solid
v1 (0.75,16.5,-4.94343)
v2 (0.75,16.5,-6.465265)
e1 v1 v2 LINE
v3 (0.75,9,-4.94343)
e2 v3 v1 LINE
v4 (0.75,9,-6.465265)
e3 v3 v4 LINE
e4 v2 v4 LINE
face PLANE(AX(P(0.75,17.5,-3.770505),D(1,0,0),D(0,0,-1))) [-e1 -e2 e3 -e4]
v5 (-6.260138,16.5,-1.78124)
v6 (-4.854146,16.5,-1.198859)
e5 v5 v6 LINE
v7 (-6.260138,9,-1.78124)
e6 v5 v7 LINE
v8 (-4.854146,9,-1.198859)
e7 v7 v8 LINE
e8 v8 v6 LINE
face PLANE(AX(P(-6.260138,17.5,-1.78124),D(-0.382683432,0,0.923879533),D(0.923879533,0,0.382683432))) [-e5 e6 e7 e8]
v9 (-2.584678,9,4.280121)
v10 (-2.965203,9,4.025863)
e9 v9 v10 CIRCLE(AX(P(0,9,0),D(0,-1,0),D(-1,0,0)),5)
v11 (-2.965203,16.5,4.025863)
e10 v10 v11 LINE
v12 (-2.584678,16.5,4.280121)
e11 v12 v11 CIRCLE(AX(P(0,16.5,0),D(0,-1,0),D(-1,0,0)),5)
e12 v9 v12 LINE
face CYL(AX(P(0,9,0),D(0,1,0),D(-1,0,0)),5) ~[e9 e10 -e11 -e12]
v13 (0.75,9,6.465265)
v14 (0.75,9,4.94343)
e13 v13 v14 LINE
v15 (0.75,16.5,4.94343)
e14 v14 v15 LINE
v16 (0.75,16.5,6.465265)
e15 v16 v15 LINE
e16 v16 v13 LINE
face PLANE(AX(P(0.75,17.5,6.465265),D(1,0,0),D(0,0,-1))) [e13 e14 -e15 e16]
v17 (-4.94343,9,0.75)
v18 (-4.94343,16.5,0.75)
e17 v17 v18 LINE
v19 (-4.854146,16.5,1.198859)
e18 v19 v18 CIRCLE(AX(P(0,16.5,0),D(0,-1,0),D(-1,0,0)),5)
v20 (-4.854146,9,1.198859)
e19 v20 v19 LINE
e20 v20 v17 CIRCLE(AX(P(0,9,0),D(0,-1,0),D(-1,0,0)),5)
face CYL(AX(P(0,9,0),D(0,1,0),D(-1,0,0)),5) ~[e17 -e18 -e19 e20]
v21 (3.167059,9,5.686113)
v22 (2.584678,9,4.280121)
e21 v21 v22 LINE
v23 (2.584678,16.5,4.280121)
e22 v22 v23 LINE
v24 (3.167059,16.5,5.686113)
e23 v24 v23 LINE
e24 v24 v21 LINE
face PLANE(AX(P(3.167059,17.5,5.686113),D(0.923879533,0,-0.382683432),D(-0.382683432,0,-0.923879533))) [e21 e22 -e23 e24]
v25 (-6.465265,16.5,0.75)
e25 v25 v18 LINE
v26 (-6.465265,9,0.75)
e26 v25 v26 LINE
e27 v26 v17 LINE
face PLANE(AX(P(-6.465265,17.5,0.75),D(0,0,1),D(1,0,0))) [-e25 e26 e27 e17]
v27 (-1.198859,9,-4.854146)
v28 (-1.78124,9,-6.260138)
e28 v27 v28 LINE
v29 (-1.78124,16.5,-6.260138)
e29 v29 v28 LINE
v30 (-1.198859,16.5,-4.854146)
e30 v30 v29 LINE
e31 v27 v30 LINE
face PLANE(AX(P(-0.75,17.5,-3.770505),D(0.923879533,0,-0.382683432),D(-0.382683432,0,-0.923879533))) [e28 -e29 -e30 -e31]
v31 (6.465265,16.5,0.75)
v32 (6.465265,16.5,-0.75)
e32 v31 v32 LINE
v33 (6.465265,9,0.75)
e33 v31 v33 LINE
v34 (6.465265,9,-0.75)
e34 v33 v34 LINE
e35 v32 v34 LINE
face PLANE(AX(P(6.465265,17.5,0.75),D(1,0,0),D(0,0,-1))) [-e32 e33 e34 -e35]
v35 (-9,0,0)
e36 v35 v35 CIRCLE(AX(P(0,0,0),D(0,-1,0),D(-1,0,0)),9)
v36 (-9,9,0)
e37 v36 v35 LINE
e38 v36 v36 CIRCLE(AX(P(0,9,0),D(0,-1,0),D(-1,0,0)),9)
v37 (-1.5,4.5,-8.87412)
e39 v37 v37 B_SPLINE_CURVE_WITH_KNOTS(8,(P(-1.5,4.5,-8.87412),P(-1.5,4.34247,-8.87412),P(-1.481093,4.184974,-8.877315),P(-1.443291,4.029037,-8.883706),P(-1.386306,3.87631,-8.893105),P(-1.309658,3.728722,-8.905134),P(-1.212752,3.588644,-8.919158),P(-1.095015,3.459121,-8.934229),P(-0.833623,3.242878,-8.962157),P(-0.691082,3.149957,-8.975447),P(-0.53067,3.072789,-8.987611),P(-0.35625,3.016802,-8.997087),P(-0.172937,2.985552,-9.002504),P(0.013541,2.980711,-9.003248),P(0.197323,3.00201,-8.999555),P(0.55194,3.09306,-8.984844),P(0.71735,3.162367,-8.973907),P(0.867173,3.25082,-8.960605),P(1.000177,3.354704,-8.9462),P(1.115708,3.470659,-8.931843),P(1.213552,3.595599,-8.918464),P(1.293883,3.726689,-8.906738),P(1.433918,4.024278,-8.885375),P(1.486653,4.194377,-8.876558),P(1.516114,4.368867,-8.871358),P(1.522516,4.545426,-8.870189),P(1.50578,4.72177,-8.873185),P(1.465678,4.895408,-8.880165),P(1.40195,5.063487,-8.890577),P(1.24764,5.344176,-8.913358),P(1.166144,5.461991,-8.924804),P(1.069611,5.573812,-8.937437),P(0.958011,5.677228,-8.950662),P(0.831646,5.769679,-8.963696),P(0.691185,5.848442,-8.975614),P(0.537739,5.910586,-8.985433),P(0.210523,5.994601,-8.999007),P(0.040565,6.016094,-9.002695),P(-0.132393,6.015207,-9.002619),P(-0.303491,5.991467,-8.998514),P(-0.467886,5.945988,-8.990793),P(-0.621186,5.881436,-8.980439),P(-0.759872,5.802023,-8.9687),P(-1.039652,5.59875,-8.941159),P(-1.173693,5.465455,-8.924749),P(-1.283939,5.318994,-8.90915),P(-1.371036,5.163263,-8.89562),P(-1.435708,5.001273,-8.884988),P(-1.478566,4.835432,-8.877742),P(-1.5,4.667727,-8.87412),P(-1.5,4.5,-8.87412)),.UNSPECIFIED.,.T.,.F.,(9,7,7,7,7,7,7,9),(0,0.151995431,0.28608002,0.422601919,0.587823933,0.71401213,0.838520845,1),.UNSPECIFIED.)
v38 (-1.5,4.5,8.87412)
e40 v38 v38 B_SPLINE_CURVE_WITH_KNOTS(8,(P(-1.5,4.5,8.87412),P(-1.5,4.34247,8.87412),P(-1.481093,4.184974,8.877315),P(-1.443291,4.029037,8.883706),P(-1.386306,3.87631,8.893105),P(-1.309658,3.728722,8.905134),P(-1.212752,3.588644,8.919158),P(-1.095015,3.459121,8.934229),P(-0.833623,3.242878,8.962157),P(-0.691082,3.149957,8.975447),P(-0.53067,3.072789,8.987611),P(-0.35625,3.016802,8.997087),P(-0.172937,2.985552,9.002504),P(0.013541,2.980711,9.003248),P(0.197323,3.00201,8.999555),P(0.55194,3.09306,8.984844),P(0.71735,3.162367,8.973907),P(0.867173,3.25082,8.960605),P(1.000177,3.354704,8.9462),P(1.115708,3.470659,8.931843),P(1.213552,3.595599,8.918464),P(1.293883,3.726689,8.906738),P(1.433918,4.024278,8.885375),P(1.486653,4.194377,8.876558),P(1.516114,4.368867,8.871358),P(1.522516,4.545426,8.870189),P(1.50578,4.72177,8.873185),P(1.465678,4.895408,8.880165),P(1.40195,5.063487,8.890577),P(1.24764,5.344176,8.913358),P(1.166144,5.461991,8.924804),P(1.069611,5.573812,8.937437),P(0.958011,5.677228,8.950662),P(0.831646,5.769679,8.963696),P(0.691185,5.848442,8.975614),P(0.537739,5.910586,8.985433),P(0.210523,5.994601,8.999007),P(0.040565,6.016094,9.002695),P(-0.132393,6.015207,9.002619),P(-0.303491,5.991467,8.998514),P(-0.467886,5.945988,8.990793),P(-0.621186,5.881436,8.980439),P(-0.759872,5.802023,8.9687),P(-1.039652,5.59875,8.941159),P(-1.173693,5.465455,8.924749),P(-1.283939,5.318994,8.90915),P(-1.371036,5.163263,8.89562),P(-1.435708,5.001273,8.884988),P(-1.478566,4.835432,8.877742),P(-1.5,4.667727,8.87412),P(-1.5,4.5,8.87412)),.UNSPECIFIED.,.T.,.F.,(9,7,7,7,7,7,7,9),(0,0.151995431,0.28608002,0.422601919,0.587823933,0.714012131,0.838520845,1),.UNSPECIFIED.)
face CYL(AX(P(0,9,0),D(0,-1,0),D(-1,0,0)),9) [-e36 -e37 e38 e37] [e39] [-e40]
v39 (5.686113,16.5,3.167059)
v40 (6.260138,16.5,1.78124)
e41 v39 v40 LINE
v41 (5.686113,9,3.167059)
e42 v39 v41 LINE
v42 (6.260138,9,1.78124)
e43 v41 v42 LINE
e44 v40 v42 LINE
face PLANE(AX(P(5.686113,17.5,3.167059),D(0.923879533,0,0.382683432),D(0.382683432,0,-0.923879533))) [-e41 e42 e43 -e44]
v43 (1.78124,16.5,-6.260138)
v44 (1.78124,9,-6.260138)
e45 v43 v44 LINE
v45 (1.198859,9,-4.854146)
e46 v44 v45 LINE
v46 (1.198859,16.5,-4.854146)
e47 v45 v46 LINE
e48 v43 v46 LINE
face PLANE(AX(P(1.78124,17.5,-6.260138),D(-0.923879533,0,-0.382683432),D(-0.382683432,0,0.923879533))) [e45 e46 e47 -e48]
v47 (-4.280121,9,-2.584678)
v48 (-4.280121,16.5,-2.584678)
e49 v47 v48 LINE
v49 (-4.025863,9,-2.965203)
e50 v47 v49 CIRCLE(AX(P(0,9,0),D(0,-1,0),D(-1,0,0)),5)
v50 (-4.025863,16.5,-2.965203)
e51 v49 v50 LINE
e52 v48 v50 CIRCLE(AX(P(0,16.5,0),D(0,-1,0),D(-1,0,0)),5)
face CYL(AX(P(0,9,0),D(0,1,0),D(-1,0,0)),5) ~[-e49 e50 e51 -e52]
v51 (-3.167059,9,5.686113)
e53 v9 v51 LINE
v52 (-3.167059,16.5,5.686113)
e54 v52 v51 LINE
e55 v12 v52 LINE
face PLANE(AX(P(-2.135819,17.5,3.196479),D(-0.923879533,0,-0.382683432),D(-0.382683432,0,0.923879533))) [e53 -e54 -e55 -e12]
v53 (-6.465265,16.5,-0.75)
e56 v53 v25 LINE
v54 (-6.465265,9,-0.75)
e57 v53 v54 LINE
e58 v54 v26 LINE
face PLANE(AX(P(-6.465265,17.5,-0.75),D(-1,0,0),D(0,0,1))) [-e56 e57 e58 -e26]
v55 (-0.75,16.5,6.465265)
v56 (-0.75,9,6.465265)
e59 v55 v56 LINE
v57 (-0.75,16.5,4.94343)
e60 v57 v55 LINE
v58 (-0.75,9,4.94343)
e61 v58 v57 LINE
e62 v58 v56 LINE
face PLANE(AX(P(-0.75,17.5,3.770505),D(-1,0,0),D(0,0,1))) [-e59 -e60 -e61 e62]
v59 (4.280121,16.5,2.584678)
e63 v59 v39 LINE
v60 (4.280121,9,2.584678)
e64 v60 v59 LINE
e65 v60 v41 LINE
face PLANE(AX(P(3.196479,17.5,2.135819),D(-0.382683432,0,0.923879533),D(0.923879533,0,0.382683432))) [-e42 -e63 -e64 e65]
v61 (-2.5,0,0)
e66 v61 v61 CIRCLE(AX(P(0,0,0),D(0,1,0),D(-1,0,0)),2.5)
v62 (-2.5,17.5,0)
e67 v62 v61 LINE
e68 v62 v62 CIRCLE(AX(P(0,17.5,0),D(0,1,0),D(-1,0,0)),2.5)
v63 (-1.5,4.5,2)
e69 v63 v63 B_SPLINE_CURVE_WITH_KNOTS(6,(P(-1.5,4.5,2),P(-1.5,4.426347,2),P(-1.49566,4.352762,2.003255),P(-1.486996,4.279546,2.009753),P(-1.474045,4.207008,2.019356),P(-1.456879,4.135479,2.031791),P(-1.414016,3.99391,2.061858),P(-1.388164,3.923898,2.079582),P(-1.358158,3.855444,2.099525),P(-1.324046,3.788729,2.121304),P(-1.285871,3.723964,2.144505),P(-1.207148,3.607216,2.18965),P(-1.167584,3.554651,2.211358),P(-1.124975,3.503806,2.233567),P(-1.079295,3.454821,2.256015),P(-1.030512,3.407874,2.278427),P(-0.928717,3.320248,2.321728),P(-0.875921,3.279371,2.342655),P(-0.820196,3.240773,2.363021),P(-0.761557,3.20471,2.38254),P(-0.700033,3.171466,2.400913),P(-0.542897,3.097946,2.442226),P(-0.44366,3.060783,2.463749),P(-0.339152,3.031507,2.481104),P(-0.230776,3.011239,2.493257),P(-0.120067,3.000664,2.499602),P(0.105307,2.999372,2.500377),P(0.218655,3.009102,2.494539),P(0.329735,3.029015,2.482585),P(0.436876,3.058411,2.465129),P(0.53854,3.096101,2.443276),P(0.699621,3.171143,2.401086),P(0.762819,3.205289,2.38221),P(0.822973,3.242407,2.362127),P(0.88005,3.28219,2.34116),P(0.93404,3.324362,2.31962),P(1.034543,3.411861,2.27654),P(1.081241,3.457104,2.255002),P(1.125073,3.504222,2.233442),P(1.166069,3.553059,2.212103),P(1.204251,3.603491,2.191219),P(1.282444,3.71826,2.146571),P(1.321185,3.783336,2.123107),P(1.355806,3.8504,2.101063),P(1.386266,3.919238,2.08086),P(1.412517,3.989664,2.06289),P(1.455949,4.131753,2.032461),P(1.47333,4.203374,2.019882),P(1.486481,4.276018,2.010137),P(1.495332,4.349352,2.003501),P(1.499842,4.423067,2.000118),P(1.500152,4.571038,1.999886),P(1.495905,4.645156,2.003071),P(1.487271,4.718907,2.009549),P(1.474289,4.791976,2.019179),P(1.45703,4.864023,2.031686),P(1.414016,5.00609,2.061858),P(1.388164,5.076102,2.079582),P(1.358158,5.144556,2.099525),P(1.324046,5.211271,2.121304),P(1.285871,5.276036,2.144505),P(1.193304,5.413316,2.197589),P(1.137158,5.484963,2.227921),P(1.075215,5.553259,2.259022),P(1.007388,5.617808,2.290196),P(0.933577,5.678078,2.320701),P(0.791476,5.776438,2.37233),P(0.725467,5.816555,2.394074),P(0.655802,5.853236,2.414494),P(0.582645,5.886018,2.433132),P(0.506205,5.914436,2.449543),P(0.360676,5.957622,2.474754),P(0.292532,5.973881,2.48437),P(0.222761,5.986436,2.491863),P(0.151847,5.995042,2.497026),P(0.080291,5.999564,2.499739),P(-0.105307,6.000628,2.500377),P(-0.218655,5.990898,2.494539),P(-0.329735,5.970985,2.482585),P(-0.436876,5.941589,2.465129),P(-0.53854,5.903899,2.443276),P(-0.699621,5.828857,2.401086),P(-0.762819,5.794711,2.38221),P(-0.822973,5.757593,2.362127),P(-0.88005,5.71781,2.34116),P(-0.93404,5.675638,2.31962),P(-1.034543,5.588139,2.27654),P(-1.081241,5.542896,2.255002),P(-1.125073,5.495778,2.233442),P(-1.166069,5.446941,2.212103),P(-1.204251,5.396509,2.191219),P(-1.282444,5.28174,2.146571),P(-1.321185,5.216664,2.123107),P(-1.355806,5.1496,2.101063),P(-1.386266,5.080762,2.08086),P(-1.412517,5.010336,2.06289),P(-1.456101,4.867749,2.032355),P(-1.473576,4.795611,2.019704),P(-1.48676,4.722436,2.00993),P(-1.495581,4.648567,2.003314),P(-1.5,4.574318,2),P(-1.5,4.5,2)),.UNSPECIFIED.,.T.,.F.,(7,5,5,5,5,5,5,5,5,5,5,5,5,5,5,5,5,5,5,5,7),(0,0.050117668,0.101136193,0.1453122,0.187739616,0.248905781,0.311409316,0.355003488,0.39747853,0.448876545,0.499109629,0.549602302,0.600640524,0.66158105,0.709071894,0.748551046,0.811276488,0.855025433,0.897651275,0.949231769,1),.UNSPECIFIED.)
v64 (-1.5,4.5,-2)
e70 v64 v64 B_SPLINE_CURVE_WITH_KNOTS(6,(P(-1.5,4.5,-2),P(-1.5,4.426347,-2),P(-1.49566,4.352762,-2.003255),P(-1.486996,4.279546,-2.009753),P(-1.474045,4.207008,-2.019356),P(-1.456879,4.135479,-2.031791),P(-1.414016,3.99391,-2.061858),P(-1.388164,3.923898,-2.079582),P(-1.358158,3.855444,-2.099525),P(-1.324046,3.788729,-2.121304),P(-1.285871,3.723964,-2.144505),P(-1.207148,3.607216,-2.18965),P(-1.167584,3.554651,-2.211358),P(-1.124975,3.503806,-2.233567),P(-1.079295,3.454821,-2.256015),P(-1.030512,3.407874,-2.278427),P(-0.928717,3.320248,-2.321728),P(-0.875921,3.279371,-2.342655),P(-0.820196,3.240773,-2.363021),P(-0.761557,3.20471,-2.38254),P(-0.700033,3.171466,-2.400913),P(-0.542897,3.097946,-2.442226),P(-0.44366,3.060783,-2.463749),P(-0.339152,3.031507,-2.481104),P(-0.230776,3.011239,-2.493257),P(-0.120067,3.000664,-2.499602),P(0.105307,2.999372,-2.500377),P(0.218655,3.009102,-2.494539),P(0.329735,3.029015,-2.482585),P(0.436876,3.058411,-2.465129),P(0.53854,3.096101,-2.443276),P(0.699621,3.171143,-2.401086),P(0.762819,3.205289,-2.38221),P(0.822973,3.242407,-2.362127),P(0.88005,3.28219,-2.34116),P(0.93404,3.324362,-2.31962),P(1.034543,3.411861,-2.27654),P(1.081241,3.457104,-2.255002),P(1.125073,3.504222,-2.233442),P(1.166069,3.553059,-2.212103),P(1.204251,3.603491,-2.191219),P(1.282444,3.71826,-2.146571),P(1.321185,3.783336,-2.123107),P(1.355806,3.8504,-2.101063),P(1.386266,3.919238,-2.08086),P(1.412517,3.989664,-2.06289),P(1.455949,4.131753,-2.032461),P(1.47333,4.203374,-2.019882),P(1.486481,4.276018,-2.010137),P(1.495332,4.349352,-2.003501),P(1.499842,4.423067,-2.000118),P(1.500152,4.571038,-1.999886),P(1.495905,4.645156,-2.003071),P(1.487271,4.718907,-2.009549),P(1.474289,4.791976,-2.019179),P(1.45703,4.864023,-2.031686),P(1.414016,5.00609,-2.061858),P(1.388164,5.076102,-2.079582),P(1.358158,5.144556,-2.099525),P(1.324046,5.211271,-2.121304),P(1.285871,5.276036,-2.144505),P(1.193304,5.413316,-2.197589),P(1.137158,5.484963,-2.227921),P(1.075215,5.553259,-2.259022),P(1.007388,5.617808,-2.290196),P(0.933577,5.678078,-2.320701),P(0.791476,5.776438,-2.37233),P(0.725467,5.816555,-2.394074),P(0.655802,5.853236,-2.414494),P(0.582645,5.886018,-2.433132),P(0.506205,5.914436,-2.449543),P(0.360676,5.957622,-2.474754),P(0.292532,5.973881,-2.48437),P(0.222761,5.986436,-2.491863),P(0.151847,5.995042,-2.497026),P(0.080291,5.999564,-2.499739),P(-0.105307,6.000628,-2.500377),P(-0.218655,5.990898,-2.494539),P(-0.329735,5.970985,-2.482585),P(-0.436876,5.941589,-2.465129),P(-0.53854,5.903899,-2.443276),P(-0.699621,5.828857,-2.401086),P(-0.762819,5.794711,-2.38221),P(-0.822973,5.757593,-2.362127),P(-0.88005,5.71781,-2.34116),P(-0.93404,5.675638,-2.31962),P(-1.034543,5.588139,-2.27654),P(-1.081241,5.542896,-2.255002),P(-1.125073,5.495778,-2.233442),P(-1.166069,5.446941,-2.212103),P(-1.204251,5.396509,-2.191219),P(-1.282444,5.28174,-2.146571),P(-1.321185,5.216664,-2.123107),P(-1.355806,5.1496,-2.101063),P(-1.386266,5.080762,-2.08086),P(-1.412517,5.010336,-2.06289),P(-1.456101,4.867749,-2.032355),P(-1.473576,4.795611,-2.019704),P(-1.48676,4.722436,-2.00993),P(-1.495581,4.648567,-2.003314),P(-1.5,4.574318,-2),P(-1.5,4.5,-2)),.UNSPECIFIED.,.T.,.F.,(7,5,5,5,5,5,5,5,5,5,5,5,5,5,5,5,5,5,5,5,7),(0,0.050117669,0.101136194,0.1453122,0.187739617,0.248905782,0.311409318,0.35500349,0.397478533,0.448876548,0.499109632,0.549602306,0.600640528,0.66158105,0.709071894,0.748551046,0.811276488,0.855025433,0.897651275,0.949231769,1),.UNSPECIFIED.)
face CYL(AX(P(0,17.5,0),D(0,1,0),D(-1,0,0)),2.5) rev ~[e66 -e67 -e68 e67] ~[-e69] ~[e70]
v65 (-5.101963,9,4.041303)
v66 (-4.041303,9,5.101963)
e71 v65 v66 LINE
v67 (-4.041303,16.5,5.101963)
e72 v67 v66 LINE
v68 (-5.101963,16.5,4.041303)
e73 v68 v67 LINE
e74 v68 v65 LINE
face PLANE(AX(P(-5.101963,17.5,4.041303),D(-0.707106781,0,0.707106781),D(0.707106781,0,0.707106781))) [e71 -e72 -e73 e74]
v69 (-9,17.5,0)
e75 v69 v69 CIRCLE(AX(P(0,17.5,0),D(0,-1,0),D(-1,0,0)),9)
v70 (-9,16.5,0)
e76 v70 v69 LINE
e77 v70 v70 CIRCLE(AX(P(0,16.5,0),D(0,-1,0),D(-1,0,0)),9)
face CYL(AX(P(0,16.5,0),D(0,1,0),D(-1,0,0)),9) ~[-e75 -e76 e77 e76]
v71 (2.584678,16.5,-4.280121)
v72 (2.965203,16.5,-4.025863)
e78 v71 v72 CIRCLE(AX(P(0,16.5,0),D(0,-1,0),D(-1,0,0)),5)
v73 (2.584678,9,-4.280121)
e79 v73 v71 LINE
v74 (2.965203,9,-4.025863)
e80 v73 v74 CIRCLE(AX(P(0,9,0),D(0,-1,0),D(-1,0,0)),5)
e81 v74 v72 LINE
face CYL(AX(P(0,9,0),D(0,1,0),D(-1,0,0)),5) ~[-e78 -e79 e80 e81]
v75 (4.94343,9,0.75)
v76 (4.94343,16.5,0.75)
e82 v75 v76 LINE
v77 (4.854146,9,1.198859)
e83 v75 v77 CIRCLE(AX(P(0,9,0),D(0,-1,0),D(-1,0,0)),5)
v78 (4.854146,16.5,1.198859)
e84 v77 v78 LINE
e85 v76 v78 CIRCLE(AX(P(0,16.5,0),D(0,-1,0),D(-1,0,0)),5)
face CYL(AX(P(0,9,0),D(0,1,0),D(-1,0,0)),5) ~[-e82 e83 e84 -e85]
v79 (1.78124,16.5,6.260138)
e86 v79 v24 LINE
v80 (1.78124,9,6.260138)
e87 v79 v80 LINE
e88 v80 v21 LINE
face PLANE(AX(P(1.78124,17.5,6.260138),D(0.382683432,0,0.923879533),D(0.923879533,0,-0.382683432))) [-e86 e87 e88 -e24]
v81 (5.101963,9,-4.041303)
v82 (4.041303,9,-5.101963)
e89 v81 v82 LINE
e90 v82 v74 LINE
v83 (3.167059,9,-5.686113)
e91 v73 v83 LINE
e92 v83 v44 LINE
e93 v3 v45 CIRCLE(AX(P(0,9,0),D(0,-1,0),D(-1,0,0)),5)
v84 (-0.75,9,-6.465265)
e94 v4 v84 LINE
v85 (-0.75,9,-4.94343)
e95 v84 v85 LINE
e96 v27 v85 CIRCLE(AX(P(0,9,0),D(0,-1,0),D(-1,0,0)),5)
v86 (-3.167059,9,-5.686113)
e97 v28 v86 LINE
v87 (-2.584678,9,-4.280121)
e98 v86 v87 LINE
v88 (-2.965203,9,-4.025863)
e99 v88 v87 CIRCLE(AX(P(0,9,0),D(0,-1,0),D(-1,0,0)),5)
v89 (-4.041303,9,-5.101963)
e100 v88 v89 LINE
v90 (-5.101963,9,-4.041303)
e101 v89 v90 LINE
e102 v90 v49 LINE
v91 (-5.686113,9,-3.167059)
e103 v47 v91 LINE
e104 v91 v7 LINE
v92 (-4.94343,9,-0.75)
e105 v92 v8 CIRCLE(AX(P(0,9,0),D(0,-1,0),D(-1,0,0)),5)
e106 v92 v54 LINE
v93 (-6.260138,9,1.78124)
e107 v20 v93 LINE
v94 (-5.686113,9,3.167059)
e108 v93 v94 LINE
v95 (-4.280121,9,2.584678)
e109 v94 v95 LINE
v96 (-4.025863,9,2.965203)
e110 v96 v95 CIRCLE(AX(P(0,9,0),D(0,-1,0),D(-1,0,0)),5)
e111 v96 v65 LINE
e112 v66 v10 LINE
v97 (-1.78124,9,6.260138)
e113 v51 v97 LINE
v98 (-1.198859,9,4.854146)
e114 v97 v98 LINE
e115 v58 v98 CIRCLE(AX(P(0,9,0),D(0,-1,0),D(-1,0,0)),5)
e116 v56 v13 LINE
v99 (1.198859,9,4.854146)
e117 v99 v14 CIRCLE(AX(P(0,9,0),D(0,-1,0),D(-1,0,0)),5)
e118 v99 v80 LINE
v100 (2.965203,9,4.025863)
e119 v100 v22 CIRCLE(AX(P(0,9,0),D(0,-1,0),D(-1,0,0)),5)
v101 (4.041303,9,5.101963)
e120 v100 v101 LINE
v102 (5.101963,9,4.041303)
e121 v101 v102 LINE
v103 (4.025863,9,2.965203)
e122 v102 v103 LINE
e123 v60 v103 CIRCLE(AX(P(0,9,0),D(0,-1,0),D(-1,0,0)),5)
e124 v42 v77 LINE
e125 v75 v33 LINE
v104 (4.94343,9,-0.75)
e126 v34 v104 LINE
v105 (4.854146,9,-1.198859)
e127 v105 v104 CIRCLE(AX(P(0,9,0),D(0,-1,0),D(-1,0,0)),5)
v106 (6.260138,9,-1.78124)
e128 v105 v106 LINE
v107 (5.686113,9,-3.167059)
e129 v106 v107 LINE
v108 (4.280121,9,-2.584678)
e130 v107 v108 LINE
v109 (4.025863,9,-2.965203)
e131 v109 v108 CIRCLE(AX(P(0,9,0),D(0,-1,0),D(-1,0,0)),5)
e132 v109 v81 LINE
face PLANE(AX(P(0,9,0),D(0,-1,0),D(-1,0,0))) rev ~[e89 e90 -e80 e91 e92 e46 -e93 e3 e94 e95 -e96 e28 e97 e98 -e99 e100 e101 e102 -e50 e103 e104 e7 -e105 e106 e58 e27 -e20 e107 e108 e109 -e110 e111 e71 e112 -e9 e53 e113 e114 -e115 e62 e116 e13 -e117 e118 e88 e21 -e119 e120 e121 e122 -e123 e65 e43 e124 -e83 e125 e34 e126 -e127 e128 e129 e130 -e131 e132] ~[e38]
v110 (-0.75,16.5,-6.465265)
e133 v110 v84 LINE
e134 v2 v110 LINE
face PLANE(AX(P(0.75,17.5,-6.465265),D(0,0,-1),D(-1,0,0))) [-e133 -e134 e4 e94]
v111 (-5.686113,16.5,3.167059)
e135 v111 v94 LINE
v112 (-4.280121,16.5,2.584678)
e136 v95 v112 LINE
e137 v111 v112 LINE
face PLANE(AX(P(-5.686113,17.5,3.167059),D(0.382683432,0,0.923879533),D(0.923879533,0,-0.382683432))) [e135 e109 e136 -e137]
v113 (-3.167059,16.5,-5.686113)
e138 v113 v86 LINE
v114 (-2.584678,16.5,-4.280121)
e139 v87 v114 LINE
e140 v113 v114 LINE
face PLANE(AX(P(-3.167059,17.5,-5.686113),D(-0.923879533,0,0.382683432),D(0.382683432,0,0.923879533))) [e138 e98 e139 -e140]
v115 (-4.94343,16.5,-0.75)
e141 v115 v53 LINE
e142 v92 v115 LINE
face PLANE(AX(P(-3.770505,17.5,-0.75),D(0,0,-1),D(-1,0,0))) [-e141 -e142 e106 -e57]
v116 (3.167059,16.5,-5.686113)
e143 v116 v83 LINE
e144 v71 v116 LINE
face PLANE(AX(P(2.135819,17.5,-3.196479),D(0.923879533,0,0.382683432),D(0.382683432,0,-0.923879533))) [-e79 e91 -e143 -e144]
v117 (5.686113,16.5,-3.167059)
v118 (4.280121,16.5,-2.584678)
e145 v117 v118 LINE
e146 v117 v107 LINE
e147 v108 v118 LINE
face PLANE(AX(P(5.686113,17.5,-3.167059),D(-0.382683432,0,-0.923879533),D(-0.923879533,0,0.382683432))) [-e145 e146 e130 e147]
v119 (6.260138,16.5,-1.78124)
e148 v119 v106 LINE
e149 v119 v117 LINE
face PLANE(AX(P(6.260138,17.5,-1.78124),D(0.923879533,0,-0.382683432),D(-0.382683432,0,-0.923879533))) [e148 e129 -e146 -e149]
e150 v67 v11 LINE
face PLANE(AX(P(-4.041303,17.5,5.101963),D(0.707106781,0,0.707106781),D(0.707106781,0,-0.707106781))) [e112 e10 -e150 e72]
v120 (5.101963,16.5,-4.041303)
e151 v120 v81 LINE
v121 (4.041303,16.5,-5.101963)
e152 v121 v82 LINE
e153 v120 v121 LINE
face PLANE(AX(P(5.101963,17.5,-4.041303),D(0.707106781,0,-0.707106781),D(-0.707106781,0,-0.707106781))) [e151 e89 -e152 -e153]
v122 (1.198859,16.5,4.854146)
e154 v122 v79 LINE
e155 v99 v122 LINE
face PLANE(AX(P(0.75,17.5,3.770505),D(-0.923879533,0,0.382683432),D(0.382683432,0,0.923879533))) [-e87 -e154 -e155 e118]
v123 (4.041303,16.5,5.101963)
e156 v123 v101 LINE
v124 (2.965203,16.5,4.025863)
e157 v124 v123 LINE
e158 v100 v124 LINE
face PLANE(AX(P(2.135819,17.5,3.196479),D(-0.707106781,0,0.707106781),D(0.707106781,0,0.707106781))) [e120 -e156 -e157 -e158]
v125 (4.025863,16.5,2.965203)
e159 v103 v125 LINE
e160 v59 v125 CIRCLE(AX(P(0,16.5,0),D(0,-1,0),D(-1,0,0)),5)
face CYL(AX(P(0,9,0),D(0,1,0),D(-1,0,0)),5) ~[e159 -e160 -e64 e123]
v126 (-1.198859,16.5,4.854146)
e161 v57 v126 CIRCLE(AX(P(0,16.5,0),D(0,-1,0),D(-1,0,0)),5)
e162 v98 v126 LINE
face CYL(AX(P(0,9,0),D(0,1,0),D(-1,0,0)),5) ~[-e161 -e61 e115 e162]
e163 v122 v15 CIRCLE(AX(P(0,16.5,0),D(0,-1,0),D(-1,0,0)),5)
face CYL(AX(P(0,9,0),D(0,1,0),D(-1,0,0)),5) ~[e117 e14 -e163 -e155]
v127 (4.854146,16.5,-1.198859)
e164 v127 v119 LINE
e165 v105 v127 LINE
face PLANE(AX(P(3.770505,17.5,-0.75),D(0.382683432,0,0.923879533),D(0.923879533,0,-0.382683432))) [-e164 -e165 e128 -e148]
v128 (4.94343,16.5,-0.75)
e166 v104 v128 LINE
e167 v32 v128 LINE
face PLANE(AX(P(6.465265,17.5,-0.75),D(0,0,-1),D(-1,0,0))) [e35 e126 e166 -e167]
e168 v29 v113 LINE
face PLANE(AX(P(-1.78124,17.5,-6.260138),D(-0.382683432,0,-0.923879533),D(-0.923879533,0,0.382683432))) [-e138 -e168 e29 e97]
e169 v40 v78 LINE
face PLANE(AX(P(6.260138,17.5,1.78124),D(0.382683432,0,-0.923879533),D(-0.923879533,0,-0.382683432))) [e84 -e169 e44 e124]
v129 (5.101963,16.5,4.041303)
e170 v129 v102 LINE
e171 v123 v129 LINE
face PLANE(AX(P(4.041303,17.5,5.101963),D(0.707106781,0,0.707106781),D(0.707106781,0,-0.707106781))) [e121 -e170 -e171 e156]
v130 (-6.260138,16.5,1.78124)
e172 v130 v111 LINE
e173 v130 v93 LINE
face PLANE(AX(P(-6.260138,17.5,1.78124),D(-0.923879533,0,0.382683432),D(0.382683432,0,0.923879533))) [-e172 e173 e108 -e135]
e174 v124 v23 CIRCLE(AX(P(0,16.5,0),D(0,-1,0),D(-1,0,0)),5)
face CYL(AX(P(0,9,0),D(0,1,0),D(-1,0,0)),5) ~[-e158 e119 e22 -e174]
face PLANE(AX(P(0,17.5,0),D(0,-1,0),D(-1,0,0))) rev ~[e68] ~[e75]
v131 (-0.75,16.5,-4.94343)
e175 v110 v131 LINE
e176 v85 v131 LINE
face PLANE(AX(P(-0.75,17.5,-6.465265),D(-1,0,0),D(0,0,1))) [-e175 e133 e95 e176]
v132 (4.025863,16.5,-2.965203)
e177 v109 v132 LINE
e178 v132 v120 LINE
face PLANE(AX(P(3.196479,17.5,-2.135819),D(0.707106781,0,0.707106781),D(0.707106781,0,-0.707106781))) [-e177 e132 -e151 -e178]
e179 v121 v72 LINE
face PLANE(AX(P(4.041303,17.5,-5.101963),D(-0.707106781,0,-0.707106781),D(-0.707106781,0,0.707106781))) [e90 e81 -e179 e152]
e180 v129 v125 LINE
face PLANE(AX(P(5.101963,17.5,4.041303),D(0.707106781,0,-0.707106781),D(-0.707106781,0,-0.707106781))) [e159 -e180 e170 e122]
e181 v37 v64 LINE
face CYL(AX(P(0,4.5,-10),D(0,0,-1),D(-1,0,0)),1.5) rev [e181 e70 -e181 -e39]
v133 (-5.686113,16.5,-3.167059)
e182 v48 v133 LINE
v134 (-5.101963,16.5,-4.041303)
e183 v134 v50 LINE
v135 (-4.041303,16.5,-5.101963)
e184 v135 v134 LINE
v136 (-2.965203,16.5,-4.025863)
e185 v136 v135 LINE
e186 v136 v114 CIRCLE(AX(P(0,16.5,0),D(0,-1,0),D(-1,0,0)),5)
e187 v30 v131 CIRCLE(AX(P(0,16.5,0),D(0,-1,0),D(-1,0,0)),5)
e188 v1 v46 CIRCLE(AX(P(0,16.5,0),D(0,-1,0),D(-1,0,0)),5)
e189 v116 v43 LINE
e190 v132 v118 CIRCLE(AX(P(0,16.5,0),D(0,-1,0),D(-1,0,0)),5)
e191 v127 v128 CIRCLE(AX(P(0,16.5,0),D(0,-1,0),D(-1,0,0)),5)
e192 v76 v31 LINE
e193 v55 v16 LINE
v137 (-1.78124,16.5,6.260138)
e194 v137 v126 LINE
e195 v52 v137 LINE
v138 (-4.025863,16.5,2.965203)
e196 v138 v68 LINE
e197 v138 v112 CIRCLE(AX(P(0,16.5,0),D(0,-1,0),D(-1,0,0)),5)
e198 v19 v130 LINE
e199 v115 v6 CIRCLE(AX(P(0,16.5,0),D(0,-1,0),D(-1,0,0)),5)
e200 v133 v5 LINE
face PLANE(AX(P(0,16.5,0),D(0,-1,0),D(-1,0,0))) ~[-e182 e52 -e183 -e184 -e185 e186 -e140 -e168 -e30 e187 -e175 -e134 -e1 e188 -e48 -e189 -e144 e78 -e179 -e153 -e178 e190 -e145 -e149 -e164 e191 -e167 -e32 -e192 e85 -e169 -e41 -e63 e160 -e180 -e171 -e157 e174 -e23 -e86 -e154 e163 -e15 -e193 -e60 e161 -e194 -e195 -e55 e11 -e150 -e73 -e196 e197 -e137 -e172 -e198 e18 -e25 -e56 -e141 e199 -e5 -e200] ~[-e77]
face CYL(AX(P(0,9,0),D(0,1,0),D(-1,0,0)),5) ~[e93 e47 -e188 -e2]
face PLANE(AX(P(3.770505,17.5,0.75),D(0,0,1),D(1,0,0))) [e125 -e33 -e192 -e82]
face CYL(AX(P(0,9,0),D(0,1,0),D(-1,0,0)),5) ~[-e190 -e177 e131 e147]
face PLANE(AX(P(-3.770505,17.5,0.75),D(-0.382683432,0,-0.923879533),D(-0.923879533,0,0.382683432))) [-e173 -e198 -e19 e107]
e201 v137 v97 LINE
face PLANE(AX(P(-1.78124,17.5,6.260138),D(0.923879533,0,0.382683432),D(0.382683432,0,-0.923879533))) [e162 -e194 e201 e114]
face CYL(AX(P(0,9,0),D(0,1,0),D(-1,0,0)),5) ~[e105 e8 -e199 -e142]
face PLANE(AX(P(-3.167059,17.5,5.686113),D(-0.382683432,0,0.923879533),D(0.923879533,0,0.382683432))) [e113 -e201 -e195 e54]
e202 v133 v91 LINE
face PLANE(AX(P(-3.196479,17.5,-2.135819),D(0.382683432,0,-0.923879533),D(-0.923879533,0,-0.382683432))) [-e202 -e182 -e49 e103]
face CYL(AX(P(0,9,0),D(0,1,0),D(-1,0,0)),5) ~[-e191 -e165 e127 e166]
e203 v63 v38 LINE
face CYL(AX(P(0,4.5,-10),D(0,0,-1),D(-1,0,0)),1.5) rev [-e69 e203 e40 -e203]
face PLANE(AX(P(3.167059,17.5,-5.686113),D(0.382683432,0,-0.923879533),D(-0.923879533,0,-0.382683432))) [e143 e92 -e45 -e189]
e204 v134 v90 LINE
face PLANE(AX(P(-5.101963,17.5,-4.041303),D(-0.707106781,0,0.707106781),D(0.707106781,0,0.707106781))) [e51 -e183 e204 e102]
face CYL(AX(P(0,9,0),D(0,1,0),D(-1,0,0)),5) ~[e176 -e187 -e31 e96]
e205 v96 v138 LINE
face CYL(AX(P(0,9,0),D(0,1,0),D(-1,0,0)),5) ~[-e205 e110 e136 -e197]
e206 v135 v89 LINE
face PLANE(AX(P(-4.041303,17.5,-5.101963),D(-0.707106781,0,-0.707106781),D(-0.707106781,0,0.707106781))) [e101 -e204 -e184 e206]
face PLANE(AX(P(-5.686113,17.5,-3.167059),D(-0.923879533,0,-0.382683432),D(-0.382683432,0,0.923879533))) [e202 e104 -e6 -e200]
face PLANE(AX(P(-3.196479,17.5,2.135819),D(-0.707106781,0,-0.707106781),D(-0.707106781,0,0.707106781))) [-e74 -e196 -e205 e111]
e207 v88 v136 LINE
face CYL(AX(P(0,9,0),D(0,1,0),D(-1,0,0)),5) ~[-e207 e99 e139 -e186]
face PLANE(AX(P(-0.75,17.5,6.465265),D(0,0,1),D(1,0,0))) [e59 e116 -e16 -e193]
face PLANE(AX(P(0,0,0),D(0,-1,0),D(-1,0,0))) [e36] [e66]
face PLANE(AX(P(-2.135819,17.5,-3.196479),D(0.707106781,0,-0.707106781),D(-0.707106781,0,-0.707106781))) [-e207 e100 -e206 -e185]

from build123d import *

# Parameters (mm, degrees)
ESBO_O2_R                  = 2.5
CORTE_EXTRUS_O1_DEPTH      = 20
RESSALTO_EXTRUS_O1_DEPTH   = 8.5
CORTE_EXTRUS_O2_DEPTH      = 10
CORTE_EXTRUS_O2_DEPTH_BACK = 10
ESBO_O5_R                  = 1.5


with BuildPart() as part:
    # Esboço1 → Revolução1 (revolve)
    with BuildSketch(Plane.XY):
        Polygon((0, 17.5), (0, 0), (-5, 0), (-9, 0), (-9, 8), (-9, 9), (-5, 9), (-5, 16.5), (-9, 16.5), (-9, 17.5), align=None)
    revolve(axis=Axis((0, 17.5, 0), (0, -1, 0)))

    # Esboço2 → Corte-extrusão1 (cut)
    with BuildSketch(Plane(origin=(0, 17.5, 0), x_dir=(1, 0, 0), z_dir=(0, 1, 0))):
        with Locations(Location((0, 0, 0), (0, 0, 180))):
            Circle(ESBO_O2_R)
    extrude(amount=-CORTE_EXTRUS_O1_DEPTH, mode=Mode.SUBTRACT)

    # Esboço4 → Ressalto-extrusão1 (add)
    with BuildSketch(Plane(origin=(0, 17.5, 0), x_dir=(1, 0, 0), z_dir=(0, 1, 0))):
        Polygon((0.75, 2.711240108), (0.539299188, 2.711240108), (1.535794152, 2.298478379), (1.38680618, 2.447466352), (2.135819299, 3.196479471), (3.167059402, 5.686113314), (1.781240103, 6.260138462), (0.75, 3.770504619), align=None)
        Polygon((1.73045632, 2.217846669), (1.535794152, 2.298478379), (2.298478379, 1.535794152), (2.217846669, 1.73045632), (3.196479471, 2.135819299), (5.101962719, 4.041302547), (4.041302547, 5.101962719), (2.135819299, 3.196479471), align=None)
        Polygon((2.447466352, 1.38680618), (2.298478379, 1.535794152), (2.711240108, 0.539299188), (2.711240108, 0.75), (3.770504619, 0.75), (6.260138462, 1.781240103), (5.686113314, 3.167059402), (3.196479471, 2.135819299), align=None)
        Polygon((0.539299188, 2.711240108), (0.344637021, 2.791871818), (0.75, 3.770504619), (0.75, 6.465264872), (-0.75, 6.465264872), (-0.75, 3.770504619), (-0.344637021, 2.791871818), (-0.539299188, 2.711240108), align=None)
        Polygon((-1.535794152, 2.298478379), (-0.539299188, 2.711240108), (-0.75, 2.711240108), (-0.75, 3.770504619), (-1.781240103, 6.260138462), (-3.167059402, 5.686113314), (-2.135819299, 3.196479471), (-1.38680618, 2.447466352), align=None)
        Polygon((-2.298478379, 1.535794152), (-1.535794152, 2.298478379), (-1.73045632, 2.217846669), (-2.135819299, 3.196479471), (-4.041302547, 5.101962719), (-5.101962719, 4.041302547), (-3.196479471, 2.135819299), (-2.217846669, 1.73045632), align=None)
        Polygon((-2.711240108, 0.539299188), (-2.298478379, 1.535794152), (-2.447466352, 1.38680618), (-3.196479471, 2.135819299), (-5.686113314, 3.167059402), (-6.260138462, 1.781240103), (-3.770504619, 0.75), (-2.711240108, 0.75), align=None)
        Polygon((-2.711240108, -0.539299188), (-2.711240108, 0.539299188), (-2.791871818, 0.344637021), (-3.770504619, 0.75), (-6.465264872, 0.75), (-6.465264872, -0.75), (-3.770504619, -0.75), (-2.791871818, -0.344637021), align=None)
        Polygon((-2.298478379, -1.535794152), (-2.711240108, -0.539299188), (-2.711240108, -0.75), (-3.770504619, -0.75), (-6.260138462, -1.781240103), (-5.686113314, -3.167059402), (-3.196479471, -2.135819299), (-2.447466352, -1.38680618), align=None)
        Polygon((-1.535794152, -2.298478379), (-2.298478379, -1.535794152), (-2.217846669, -1.73045632), (-3.196479471, -2.135819299), (-5.101962719, -4.041302547), (-4.041302547, -5.101962719), (-2.135819299, -3.196479471), (-1.73045632, -2.217846669), align=None)
        Polygon((-0.539299188, -2.711240108), (-1.535794152, -2.298478379), (-1.38680618, -2.447466352), (-2.135819299, -3.196479471), (-3.167059402, -5.686113314), (-1.781240103, -6.260138462), (-0.75, -3.770504619), (-0.75, -2.711240108), align=None)
        Polygon((0.344637021, -2.791871818), (0.539299188, -2.711240108), (-0.539299188, -2.711240108), (-0.344637021, -2.791871818), (-0.75, -3.770504619), (-0.75, -6.465264872), (0.75, -6.465264872), (0.75, -3.770504619), align=None)
        Polygon((1.38680618, -2.447466352), (1.535794152, -2.298478379), (0.539299188, -2.711240108), (0.75, -2.711240108), (0.75, -3.770504619), (1.781240103, -6.260138462), (3.167059402, -5.686113314), (2.135819299, -3.196479471), align=None)
        Polygon((2.217846669, -1.73045632), (2.298478379, -1.535794152), (1.535794152, -2.298478379), (1.73045632, -2.217846669), (2.135819299, -3.196479471), (4.041302547, -5.101962719), (5.101962719, -4.041302547), (3.196479471, -2.135819299), align=None)
        Polygon((2.711240108, -0.75), (2.711240108, -0.539299188), (2.298478379, -1.535794152), (2.447466352, -1.38680618), (3.196479471, -2.135819299), (5.686113314, -3.167059402), (6.260138462, -1.781240103), (3.770504619, -0.75), align=None)
        Polygon((2.791871818, 0.344637021), (2.711240108, 0.539299188), (2.711240108, -0.539299188), (2.791871818, -0.344637021), (3.770504619, -0.75), (6.465264872, -0.75), (6.465264872, 0.75), (3.770504619, 0.75), align=None)
    extrude(amount=-RESSALTO_EXTRUS_O1_DEPTH)

    # Esboço5 → Corte-extrusão2 (cut, two sides: drawn at the far end of the back side and taken through both)
    with BuildSketch(Plane.XY.offset(-CORTE_EXTRUS_O2_DEPTH_BACK)):
        with Locations(Location((0, 4.5, 0), (0, 0, 180))):
            Circle(ESBO_O5_R)
    extrude(amount=CORTE_EXTRUS_O2_DEPTH + CORTE_EXTRUS_O2_DEPTH_BACK, mode=Mode.SUBTRACT)


solid = part.part
